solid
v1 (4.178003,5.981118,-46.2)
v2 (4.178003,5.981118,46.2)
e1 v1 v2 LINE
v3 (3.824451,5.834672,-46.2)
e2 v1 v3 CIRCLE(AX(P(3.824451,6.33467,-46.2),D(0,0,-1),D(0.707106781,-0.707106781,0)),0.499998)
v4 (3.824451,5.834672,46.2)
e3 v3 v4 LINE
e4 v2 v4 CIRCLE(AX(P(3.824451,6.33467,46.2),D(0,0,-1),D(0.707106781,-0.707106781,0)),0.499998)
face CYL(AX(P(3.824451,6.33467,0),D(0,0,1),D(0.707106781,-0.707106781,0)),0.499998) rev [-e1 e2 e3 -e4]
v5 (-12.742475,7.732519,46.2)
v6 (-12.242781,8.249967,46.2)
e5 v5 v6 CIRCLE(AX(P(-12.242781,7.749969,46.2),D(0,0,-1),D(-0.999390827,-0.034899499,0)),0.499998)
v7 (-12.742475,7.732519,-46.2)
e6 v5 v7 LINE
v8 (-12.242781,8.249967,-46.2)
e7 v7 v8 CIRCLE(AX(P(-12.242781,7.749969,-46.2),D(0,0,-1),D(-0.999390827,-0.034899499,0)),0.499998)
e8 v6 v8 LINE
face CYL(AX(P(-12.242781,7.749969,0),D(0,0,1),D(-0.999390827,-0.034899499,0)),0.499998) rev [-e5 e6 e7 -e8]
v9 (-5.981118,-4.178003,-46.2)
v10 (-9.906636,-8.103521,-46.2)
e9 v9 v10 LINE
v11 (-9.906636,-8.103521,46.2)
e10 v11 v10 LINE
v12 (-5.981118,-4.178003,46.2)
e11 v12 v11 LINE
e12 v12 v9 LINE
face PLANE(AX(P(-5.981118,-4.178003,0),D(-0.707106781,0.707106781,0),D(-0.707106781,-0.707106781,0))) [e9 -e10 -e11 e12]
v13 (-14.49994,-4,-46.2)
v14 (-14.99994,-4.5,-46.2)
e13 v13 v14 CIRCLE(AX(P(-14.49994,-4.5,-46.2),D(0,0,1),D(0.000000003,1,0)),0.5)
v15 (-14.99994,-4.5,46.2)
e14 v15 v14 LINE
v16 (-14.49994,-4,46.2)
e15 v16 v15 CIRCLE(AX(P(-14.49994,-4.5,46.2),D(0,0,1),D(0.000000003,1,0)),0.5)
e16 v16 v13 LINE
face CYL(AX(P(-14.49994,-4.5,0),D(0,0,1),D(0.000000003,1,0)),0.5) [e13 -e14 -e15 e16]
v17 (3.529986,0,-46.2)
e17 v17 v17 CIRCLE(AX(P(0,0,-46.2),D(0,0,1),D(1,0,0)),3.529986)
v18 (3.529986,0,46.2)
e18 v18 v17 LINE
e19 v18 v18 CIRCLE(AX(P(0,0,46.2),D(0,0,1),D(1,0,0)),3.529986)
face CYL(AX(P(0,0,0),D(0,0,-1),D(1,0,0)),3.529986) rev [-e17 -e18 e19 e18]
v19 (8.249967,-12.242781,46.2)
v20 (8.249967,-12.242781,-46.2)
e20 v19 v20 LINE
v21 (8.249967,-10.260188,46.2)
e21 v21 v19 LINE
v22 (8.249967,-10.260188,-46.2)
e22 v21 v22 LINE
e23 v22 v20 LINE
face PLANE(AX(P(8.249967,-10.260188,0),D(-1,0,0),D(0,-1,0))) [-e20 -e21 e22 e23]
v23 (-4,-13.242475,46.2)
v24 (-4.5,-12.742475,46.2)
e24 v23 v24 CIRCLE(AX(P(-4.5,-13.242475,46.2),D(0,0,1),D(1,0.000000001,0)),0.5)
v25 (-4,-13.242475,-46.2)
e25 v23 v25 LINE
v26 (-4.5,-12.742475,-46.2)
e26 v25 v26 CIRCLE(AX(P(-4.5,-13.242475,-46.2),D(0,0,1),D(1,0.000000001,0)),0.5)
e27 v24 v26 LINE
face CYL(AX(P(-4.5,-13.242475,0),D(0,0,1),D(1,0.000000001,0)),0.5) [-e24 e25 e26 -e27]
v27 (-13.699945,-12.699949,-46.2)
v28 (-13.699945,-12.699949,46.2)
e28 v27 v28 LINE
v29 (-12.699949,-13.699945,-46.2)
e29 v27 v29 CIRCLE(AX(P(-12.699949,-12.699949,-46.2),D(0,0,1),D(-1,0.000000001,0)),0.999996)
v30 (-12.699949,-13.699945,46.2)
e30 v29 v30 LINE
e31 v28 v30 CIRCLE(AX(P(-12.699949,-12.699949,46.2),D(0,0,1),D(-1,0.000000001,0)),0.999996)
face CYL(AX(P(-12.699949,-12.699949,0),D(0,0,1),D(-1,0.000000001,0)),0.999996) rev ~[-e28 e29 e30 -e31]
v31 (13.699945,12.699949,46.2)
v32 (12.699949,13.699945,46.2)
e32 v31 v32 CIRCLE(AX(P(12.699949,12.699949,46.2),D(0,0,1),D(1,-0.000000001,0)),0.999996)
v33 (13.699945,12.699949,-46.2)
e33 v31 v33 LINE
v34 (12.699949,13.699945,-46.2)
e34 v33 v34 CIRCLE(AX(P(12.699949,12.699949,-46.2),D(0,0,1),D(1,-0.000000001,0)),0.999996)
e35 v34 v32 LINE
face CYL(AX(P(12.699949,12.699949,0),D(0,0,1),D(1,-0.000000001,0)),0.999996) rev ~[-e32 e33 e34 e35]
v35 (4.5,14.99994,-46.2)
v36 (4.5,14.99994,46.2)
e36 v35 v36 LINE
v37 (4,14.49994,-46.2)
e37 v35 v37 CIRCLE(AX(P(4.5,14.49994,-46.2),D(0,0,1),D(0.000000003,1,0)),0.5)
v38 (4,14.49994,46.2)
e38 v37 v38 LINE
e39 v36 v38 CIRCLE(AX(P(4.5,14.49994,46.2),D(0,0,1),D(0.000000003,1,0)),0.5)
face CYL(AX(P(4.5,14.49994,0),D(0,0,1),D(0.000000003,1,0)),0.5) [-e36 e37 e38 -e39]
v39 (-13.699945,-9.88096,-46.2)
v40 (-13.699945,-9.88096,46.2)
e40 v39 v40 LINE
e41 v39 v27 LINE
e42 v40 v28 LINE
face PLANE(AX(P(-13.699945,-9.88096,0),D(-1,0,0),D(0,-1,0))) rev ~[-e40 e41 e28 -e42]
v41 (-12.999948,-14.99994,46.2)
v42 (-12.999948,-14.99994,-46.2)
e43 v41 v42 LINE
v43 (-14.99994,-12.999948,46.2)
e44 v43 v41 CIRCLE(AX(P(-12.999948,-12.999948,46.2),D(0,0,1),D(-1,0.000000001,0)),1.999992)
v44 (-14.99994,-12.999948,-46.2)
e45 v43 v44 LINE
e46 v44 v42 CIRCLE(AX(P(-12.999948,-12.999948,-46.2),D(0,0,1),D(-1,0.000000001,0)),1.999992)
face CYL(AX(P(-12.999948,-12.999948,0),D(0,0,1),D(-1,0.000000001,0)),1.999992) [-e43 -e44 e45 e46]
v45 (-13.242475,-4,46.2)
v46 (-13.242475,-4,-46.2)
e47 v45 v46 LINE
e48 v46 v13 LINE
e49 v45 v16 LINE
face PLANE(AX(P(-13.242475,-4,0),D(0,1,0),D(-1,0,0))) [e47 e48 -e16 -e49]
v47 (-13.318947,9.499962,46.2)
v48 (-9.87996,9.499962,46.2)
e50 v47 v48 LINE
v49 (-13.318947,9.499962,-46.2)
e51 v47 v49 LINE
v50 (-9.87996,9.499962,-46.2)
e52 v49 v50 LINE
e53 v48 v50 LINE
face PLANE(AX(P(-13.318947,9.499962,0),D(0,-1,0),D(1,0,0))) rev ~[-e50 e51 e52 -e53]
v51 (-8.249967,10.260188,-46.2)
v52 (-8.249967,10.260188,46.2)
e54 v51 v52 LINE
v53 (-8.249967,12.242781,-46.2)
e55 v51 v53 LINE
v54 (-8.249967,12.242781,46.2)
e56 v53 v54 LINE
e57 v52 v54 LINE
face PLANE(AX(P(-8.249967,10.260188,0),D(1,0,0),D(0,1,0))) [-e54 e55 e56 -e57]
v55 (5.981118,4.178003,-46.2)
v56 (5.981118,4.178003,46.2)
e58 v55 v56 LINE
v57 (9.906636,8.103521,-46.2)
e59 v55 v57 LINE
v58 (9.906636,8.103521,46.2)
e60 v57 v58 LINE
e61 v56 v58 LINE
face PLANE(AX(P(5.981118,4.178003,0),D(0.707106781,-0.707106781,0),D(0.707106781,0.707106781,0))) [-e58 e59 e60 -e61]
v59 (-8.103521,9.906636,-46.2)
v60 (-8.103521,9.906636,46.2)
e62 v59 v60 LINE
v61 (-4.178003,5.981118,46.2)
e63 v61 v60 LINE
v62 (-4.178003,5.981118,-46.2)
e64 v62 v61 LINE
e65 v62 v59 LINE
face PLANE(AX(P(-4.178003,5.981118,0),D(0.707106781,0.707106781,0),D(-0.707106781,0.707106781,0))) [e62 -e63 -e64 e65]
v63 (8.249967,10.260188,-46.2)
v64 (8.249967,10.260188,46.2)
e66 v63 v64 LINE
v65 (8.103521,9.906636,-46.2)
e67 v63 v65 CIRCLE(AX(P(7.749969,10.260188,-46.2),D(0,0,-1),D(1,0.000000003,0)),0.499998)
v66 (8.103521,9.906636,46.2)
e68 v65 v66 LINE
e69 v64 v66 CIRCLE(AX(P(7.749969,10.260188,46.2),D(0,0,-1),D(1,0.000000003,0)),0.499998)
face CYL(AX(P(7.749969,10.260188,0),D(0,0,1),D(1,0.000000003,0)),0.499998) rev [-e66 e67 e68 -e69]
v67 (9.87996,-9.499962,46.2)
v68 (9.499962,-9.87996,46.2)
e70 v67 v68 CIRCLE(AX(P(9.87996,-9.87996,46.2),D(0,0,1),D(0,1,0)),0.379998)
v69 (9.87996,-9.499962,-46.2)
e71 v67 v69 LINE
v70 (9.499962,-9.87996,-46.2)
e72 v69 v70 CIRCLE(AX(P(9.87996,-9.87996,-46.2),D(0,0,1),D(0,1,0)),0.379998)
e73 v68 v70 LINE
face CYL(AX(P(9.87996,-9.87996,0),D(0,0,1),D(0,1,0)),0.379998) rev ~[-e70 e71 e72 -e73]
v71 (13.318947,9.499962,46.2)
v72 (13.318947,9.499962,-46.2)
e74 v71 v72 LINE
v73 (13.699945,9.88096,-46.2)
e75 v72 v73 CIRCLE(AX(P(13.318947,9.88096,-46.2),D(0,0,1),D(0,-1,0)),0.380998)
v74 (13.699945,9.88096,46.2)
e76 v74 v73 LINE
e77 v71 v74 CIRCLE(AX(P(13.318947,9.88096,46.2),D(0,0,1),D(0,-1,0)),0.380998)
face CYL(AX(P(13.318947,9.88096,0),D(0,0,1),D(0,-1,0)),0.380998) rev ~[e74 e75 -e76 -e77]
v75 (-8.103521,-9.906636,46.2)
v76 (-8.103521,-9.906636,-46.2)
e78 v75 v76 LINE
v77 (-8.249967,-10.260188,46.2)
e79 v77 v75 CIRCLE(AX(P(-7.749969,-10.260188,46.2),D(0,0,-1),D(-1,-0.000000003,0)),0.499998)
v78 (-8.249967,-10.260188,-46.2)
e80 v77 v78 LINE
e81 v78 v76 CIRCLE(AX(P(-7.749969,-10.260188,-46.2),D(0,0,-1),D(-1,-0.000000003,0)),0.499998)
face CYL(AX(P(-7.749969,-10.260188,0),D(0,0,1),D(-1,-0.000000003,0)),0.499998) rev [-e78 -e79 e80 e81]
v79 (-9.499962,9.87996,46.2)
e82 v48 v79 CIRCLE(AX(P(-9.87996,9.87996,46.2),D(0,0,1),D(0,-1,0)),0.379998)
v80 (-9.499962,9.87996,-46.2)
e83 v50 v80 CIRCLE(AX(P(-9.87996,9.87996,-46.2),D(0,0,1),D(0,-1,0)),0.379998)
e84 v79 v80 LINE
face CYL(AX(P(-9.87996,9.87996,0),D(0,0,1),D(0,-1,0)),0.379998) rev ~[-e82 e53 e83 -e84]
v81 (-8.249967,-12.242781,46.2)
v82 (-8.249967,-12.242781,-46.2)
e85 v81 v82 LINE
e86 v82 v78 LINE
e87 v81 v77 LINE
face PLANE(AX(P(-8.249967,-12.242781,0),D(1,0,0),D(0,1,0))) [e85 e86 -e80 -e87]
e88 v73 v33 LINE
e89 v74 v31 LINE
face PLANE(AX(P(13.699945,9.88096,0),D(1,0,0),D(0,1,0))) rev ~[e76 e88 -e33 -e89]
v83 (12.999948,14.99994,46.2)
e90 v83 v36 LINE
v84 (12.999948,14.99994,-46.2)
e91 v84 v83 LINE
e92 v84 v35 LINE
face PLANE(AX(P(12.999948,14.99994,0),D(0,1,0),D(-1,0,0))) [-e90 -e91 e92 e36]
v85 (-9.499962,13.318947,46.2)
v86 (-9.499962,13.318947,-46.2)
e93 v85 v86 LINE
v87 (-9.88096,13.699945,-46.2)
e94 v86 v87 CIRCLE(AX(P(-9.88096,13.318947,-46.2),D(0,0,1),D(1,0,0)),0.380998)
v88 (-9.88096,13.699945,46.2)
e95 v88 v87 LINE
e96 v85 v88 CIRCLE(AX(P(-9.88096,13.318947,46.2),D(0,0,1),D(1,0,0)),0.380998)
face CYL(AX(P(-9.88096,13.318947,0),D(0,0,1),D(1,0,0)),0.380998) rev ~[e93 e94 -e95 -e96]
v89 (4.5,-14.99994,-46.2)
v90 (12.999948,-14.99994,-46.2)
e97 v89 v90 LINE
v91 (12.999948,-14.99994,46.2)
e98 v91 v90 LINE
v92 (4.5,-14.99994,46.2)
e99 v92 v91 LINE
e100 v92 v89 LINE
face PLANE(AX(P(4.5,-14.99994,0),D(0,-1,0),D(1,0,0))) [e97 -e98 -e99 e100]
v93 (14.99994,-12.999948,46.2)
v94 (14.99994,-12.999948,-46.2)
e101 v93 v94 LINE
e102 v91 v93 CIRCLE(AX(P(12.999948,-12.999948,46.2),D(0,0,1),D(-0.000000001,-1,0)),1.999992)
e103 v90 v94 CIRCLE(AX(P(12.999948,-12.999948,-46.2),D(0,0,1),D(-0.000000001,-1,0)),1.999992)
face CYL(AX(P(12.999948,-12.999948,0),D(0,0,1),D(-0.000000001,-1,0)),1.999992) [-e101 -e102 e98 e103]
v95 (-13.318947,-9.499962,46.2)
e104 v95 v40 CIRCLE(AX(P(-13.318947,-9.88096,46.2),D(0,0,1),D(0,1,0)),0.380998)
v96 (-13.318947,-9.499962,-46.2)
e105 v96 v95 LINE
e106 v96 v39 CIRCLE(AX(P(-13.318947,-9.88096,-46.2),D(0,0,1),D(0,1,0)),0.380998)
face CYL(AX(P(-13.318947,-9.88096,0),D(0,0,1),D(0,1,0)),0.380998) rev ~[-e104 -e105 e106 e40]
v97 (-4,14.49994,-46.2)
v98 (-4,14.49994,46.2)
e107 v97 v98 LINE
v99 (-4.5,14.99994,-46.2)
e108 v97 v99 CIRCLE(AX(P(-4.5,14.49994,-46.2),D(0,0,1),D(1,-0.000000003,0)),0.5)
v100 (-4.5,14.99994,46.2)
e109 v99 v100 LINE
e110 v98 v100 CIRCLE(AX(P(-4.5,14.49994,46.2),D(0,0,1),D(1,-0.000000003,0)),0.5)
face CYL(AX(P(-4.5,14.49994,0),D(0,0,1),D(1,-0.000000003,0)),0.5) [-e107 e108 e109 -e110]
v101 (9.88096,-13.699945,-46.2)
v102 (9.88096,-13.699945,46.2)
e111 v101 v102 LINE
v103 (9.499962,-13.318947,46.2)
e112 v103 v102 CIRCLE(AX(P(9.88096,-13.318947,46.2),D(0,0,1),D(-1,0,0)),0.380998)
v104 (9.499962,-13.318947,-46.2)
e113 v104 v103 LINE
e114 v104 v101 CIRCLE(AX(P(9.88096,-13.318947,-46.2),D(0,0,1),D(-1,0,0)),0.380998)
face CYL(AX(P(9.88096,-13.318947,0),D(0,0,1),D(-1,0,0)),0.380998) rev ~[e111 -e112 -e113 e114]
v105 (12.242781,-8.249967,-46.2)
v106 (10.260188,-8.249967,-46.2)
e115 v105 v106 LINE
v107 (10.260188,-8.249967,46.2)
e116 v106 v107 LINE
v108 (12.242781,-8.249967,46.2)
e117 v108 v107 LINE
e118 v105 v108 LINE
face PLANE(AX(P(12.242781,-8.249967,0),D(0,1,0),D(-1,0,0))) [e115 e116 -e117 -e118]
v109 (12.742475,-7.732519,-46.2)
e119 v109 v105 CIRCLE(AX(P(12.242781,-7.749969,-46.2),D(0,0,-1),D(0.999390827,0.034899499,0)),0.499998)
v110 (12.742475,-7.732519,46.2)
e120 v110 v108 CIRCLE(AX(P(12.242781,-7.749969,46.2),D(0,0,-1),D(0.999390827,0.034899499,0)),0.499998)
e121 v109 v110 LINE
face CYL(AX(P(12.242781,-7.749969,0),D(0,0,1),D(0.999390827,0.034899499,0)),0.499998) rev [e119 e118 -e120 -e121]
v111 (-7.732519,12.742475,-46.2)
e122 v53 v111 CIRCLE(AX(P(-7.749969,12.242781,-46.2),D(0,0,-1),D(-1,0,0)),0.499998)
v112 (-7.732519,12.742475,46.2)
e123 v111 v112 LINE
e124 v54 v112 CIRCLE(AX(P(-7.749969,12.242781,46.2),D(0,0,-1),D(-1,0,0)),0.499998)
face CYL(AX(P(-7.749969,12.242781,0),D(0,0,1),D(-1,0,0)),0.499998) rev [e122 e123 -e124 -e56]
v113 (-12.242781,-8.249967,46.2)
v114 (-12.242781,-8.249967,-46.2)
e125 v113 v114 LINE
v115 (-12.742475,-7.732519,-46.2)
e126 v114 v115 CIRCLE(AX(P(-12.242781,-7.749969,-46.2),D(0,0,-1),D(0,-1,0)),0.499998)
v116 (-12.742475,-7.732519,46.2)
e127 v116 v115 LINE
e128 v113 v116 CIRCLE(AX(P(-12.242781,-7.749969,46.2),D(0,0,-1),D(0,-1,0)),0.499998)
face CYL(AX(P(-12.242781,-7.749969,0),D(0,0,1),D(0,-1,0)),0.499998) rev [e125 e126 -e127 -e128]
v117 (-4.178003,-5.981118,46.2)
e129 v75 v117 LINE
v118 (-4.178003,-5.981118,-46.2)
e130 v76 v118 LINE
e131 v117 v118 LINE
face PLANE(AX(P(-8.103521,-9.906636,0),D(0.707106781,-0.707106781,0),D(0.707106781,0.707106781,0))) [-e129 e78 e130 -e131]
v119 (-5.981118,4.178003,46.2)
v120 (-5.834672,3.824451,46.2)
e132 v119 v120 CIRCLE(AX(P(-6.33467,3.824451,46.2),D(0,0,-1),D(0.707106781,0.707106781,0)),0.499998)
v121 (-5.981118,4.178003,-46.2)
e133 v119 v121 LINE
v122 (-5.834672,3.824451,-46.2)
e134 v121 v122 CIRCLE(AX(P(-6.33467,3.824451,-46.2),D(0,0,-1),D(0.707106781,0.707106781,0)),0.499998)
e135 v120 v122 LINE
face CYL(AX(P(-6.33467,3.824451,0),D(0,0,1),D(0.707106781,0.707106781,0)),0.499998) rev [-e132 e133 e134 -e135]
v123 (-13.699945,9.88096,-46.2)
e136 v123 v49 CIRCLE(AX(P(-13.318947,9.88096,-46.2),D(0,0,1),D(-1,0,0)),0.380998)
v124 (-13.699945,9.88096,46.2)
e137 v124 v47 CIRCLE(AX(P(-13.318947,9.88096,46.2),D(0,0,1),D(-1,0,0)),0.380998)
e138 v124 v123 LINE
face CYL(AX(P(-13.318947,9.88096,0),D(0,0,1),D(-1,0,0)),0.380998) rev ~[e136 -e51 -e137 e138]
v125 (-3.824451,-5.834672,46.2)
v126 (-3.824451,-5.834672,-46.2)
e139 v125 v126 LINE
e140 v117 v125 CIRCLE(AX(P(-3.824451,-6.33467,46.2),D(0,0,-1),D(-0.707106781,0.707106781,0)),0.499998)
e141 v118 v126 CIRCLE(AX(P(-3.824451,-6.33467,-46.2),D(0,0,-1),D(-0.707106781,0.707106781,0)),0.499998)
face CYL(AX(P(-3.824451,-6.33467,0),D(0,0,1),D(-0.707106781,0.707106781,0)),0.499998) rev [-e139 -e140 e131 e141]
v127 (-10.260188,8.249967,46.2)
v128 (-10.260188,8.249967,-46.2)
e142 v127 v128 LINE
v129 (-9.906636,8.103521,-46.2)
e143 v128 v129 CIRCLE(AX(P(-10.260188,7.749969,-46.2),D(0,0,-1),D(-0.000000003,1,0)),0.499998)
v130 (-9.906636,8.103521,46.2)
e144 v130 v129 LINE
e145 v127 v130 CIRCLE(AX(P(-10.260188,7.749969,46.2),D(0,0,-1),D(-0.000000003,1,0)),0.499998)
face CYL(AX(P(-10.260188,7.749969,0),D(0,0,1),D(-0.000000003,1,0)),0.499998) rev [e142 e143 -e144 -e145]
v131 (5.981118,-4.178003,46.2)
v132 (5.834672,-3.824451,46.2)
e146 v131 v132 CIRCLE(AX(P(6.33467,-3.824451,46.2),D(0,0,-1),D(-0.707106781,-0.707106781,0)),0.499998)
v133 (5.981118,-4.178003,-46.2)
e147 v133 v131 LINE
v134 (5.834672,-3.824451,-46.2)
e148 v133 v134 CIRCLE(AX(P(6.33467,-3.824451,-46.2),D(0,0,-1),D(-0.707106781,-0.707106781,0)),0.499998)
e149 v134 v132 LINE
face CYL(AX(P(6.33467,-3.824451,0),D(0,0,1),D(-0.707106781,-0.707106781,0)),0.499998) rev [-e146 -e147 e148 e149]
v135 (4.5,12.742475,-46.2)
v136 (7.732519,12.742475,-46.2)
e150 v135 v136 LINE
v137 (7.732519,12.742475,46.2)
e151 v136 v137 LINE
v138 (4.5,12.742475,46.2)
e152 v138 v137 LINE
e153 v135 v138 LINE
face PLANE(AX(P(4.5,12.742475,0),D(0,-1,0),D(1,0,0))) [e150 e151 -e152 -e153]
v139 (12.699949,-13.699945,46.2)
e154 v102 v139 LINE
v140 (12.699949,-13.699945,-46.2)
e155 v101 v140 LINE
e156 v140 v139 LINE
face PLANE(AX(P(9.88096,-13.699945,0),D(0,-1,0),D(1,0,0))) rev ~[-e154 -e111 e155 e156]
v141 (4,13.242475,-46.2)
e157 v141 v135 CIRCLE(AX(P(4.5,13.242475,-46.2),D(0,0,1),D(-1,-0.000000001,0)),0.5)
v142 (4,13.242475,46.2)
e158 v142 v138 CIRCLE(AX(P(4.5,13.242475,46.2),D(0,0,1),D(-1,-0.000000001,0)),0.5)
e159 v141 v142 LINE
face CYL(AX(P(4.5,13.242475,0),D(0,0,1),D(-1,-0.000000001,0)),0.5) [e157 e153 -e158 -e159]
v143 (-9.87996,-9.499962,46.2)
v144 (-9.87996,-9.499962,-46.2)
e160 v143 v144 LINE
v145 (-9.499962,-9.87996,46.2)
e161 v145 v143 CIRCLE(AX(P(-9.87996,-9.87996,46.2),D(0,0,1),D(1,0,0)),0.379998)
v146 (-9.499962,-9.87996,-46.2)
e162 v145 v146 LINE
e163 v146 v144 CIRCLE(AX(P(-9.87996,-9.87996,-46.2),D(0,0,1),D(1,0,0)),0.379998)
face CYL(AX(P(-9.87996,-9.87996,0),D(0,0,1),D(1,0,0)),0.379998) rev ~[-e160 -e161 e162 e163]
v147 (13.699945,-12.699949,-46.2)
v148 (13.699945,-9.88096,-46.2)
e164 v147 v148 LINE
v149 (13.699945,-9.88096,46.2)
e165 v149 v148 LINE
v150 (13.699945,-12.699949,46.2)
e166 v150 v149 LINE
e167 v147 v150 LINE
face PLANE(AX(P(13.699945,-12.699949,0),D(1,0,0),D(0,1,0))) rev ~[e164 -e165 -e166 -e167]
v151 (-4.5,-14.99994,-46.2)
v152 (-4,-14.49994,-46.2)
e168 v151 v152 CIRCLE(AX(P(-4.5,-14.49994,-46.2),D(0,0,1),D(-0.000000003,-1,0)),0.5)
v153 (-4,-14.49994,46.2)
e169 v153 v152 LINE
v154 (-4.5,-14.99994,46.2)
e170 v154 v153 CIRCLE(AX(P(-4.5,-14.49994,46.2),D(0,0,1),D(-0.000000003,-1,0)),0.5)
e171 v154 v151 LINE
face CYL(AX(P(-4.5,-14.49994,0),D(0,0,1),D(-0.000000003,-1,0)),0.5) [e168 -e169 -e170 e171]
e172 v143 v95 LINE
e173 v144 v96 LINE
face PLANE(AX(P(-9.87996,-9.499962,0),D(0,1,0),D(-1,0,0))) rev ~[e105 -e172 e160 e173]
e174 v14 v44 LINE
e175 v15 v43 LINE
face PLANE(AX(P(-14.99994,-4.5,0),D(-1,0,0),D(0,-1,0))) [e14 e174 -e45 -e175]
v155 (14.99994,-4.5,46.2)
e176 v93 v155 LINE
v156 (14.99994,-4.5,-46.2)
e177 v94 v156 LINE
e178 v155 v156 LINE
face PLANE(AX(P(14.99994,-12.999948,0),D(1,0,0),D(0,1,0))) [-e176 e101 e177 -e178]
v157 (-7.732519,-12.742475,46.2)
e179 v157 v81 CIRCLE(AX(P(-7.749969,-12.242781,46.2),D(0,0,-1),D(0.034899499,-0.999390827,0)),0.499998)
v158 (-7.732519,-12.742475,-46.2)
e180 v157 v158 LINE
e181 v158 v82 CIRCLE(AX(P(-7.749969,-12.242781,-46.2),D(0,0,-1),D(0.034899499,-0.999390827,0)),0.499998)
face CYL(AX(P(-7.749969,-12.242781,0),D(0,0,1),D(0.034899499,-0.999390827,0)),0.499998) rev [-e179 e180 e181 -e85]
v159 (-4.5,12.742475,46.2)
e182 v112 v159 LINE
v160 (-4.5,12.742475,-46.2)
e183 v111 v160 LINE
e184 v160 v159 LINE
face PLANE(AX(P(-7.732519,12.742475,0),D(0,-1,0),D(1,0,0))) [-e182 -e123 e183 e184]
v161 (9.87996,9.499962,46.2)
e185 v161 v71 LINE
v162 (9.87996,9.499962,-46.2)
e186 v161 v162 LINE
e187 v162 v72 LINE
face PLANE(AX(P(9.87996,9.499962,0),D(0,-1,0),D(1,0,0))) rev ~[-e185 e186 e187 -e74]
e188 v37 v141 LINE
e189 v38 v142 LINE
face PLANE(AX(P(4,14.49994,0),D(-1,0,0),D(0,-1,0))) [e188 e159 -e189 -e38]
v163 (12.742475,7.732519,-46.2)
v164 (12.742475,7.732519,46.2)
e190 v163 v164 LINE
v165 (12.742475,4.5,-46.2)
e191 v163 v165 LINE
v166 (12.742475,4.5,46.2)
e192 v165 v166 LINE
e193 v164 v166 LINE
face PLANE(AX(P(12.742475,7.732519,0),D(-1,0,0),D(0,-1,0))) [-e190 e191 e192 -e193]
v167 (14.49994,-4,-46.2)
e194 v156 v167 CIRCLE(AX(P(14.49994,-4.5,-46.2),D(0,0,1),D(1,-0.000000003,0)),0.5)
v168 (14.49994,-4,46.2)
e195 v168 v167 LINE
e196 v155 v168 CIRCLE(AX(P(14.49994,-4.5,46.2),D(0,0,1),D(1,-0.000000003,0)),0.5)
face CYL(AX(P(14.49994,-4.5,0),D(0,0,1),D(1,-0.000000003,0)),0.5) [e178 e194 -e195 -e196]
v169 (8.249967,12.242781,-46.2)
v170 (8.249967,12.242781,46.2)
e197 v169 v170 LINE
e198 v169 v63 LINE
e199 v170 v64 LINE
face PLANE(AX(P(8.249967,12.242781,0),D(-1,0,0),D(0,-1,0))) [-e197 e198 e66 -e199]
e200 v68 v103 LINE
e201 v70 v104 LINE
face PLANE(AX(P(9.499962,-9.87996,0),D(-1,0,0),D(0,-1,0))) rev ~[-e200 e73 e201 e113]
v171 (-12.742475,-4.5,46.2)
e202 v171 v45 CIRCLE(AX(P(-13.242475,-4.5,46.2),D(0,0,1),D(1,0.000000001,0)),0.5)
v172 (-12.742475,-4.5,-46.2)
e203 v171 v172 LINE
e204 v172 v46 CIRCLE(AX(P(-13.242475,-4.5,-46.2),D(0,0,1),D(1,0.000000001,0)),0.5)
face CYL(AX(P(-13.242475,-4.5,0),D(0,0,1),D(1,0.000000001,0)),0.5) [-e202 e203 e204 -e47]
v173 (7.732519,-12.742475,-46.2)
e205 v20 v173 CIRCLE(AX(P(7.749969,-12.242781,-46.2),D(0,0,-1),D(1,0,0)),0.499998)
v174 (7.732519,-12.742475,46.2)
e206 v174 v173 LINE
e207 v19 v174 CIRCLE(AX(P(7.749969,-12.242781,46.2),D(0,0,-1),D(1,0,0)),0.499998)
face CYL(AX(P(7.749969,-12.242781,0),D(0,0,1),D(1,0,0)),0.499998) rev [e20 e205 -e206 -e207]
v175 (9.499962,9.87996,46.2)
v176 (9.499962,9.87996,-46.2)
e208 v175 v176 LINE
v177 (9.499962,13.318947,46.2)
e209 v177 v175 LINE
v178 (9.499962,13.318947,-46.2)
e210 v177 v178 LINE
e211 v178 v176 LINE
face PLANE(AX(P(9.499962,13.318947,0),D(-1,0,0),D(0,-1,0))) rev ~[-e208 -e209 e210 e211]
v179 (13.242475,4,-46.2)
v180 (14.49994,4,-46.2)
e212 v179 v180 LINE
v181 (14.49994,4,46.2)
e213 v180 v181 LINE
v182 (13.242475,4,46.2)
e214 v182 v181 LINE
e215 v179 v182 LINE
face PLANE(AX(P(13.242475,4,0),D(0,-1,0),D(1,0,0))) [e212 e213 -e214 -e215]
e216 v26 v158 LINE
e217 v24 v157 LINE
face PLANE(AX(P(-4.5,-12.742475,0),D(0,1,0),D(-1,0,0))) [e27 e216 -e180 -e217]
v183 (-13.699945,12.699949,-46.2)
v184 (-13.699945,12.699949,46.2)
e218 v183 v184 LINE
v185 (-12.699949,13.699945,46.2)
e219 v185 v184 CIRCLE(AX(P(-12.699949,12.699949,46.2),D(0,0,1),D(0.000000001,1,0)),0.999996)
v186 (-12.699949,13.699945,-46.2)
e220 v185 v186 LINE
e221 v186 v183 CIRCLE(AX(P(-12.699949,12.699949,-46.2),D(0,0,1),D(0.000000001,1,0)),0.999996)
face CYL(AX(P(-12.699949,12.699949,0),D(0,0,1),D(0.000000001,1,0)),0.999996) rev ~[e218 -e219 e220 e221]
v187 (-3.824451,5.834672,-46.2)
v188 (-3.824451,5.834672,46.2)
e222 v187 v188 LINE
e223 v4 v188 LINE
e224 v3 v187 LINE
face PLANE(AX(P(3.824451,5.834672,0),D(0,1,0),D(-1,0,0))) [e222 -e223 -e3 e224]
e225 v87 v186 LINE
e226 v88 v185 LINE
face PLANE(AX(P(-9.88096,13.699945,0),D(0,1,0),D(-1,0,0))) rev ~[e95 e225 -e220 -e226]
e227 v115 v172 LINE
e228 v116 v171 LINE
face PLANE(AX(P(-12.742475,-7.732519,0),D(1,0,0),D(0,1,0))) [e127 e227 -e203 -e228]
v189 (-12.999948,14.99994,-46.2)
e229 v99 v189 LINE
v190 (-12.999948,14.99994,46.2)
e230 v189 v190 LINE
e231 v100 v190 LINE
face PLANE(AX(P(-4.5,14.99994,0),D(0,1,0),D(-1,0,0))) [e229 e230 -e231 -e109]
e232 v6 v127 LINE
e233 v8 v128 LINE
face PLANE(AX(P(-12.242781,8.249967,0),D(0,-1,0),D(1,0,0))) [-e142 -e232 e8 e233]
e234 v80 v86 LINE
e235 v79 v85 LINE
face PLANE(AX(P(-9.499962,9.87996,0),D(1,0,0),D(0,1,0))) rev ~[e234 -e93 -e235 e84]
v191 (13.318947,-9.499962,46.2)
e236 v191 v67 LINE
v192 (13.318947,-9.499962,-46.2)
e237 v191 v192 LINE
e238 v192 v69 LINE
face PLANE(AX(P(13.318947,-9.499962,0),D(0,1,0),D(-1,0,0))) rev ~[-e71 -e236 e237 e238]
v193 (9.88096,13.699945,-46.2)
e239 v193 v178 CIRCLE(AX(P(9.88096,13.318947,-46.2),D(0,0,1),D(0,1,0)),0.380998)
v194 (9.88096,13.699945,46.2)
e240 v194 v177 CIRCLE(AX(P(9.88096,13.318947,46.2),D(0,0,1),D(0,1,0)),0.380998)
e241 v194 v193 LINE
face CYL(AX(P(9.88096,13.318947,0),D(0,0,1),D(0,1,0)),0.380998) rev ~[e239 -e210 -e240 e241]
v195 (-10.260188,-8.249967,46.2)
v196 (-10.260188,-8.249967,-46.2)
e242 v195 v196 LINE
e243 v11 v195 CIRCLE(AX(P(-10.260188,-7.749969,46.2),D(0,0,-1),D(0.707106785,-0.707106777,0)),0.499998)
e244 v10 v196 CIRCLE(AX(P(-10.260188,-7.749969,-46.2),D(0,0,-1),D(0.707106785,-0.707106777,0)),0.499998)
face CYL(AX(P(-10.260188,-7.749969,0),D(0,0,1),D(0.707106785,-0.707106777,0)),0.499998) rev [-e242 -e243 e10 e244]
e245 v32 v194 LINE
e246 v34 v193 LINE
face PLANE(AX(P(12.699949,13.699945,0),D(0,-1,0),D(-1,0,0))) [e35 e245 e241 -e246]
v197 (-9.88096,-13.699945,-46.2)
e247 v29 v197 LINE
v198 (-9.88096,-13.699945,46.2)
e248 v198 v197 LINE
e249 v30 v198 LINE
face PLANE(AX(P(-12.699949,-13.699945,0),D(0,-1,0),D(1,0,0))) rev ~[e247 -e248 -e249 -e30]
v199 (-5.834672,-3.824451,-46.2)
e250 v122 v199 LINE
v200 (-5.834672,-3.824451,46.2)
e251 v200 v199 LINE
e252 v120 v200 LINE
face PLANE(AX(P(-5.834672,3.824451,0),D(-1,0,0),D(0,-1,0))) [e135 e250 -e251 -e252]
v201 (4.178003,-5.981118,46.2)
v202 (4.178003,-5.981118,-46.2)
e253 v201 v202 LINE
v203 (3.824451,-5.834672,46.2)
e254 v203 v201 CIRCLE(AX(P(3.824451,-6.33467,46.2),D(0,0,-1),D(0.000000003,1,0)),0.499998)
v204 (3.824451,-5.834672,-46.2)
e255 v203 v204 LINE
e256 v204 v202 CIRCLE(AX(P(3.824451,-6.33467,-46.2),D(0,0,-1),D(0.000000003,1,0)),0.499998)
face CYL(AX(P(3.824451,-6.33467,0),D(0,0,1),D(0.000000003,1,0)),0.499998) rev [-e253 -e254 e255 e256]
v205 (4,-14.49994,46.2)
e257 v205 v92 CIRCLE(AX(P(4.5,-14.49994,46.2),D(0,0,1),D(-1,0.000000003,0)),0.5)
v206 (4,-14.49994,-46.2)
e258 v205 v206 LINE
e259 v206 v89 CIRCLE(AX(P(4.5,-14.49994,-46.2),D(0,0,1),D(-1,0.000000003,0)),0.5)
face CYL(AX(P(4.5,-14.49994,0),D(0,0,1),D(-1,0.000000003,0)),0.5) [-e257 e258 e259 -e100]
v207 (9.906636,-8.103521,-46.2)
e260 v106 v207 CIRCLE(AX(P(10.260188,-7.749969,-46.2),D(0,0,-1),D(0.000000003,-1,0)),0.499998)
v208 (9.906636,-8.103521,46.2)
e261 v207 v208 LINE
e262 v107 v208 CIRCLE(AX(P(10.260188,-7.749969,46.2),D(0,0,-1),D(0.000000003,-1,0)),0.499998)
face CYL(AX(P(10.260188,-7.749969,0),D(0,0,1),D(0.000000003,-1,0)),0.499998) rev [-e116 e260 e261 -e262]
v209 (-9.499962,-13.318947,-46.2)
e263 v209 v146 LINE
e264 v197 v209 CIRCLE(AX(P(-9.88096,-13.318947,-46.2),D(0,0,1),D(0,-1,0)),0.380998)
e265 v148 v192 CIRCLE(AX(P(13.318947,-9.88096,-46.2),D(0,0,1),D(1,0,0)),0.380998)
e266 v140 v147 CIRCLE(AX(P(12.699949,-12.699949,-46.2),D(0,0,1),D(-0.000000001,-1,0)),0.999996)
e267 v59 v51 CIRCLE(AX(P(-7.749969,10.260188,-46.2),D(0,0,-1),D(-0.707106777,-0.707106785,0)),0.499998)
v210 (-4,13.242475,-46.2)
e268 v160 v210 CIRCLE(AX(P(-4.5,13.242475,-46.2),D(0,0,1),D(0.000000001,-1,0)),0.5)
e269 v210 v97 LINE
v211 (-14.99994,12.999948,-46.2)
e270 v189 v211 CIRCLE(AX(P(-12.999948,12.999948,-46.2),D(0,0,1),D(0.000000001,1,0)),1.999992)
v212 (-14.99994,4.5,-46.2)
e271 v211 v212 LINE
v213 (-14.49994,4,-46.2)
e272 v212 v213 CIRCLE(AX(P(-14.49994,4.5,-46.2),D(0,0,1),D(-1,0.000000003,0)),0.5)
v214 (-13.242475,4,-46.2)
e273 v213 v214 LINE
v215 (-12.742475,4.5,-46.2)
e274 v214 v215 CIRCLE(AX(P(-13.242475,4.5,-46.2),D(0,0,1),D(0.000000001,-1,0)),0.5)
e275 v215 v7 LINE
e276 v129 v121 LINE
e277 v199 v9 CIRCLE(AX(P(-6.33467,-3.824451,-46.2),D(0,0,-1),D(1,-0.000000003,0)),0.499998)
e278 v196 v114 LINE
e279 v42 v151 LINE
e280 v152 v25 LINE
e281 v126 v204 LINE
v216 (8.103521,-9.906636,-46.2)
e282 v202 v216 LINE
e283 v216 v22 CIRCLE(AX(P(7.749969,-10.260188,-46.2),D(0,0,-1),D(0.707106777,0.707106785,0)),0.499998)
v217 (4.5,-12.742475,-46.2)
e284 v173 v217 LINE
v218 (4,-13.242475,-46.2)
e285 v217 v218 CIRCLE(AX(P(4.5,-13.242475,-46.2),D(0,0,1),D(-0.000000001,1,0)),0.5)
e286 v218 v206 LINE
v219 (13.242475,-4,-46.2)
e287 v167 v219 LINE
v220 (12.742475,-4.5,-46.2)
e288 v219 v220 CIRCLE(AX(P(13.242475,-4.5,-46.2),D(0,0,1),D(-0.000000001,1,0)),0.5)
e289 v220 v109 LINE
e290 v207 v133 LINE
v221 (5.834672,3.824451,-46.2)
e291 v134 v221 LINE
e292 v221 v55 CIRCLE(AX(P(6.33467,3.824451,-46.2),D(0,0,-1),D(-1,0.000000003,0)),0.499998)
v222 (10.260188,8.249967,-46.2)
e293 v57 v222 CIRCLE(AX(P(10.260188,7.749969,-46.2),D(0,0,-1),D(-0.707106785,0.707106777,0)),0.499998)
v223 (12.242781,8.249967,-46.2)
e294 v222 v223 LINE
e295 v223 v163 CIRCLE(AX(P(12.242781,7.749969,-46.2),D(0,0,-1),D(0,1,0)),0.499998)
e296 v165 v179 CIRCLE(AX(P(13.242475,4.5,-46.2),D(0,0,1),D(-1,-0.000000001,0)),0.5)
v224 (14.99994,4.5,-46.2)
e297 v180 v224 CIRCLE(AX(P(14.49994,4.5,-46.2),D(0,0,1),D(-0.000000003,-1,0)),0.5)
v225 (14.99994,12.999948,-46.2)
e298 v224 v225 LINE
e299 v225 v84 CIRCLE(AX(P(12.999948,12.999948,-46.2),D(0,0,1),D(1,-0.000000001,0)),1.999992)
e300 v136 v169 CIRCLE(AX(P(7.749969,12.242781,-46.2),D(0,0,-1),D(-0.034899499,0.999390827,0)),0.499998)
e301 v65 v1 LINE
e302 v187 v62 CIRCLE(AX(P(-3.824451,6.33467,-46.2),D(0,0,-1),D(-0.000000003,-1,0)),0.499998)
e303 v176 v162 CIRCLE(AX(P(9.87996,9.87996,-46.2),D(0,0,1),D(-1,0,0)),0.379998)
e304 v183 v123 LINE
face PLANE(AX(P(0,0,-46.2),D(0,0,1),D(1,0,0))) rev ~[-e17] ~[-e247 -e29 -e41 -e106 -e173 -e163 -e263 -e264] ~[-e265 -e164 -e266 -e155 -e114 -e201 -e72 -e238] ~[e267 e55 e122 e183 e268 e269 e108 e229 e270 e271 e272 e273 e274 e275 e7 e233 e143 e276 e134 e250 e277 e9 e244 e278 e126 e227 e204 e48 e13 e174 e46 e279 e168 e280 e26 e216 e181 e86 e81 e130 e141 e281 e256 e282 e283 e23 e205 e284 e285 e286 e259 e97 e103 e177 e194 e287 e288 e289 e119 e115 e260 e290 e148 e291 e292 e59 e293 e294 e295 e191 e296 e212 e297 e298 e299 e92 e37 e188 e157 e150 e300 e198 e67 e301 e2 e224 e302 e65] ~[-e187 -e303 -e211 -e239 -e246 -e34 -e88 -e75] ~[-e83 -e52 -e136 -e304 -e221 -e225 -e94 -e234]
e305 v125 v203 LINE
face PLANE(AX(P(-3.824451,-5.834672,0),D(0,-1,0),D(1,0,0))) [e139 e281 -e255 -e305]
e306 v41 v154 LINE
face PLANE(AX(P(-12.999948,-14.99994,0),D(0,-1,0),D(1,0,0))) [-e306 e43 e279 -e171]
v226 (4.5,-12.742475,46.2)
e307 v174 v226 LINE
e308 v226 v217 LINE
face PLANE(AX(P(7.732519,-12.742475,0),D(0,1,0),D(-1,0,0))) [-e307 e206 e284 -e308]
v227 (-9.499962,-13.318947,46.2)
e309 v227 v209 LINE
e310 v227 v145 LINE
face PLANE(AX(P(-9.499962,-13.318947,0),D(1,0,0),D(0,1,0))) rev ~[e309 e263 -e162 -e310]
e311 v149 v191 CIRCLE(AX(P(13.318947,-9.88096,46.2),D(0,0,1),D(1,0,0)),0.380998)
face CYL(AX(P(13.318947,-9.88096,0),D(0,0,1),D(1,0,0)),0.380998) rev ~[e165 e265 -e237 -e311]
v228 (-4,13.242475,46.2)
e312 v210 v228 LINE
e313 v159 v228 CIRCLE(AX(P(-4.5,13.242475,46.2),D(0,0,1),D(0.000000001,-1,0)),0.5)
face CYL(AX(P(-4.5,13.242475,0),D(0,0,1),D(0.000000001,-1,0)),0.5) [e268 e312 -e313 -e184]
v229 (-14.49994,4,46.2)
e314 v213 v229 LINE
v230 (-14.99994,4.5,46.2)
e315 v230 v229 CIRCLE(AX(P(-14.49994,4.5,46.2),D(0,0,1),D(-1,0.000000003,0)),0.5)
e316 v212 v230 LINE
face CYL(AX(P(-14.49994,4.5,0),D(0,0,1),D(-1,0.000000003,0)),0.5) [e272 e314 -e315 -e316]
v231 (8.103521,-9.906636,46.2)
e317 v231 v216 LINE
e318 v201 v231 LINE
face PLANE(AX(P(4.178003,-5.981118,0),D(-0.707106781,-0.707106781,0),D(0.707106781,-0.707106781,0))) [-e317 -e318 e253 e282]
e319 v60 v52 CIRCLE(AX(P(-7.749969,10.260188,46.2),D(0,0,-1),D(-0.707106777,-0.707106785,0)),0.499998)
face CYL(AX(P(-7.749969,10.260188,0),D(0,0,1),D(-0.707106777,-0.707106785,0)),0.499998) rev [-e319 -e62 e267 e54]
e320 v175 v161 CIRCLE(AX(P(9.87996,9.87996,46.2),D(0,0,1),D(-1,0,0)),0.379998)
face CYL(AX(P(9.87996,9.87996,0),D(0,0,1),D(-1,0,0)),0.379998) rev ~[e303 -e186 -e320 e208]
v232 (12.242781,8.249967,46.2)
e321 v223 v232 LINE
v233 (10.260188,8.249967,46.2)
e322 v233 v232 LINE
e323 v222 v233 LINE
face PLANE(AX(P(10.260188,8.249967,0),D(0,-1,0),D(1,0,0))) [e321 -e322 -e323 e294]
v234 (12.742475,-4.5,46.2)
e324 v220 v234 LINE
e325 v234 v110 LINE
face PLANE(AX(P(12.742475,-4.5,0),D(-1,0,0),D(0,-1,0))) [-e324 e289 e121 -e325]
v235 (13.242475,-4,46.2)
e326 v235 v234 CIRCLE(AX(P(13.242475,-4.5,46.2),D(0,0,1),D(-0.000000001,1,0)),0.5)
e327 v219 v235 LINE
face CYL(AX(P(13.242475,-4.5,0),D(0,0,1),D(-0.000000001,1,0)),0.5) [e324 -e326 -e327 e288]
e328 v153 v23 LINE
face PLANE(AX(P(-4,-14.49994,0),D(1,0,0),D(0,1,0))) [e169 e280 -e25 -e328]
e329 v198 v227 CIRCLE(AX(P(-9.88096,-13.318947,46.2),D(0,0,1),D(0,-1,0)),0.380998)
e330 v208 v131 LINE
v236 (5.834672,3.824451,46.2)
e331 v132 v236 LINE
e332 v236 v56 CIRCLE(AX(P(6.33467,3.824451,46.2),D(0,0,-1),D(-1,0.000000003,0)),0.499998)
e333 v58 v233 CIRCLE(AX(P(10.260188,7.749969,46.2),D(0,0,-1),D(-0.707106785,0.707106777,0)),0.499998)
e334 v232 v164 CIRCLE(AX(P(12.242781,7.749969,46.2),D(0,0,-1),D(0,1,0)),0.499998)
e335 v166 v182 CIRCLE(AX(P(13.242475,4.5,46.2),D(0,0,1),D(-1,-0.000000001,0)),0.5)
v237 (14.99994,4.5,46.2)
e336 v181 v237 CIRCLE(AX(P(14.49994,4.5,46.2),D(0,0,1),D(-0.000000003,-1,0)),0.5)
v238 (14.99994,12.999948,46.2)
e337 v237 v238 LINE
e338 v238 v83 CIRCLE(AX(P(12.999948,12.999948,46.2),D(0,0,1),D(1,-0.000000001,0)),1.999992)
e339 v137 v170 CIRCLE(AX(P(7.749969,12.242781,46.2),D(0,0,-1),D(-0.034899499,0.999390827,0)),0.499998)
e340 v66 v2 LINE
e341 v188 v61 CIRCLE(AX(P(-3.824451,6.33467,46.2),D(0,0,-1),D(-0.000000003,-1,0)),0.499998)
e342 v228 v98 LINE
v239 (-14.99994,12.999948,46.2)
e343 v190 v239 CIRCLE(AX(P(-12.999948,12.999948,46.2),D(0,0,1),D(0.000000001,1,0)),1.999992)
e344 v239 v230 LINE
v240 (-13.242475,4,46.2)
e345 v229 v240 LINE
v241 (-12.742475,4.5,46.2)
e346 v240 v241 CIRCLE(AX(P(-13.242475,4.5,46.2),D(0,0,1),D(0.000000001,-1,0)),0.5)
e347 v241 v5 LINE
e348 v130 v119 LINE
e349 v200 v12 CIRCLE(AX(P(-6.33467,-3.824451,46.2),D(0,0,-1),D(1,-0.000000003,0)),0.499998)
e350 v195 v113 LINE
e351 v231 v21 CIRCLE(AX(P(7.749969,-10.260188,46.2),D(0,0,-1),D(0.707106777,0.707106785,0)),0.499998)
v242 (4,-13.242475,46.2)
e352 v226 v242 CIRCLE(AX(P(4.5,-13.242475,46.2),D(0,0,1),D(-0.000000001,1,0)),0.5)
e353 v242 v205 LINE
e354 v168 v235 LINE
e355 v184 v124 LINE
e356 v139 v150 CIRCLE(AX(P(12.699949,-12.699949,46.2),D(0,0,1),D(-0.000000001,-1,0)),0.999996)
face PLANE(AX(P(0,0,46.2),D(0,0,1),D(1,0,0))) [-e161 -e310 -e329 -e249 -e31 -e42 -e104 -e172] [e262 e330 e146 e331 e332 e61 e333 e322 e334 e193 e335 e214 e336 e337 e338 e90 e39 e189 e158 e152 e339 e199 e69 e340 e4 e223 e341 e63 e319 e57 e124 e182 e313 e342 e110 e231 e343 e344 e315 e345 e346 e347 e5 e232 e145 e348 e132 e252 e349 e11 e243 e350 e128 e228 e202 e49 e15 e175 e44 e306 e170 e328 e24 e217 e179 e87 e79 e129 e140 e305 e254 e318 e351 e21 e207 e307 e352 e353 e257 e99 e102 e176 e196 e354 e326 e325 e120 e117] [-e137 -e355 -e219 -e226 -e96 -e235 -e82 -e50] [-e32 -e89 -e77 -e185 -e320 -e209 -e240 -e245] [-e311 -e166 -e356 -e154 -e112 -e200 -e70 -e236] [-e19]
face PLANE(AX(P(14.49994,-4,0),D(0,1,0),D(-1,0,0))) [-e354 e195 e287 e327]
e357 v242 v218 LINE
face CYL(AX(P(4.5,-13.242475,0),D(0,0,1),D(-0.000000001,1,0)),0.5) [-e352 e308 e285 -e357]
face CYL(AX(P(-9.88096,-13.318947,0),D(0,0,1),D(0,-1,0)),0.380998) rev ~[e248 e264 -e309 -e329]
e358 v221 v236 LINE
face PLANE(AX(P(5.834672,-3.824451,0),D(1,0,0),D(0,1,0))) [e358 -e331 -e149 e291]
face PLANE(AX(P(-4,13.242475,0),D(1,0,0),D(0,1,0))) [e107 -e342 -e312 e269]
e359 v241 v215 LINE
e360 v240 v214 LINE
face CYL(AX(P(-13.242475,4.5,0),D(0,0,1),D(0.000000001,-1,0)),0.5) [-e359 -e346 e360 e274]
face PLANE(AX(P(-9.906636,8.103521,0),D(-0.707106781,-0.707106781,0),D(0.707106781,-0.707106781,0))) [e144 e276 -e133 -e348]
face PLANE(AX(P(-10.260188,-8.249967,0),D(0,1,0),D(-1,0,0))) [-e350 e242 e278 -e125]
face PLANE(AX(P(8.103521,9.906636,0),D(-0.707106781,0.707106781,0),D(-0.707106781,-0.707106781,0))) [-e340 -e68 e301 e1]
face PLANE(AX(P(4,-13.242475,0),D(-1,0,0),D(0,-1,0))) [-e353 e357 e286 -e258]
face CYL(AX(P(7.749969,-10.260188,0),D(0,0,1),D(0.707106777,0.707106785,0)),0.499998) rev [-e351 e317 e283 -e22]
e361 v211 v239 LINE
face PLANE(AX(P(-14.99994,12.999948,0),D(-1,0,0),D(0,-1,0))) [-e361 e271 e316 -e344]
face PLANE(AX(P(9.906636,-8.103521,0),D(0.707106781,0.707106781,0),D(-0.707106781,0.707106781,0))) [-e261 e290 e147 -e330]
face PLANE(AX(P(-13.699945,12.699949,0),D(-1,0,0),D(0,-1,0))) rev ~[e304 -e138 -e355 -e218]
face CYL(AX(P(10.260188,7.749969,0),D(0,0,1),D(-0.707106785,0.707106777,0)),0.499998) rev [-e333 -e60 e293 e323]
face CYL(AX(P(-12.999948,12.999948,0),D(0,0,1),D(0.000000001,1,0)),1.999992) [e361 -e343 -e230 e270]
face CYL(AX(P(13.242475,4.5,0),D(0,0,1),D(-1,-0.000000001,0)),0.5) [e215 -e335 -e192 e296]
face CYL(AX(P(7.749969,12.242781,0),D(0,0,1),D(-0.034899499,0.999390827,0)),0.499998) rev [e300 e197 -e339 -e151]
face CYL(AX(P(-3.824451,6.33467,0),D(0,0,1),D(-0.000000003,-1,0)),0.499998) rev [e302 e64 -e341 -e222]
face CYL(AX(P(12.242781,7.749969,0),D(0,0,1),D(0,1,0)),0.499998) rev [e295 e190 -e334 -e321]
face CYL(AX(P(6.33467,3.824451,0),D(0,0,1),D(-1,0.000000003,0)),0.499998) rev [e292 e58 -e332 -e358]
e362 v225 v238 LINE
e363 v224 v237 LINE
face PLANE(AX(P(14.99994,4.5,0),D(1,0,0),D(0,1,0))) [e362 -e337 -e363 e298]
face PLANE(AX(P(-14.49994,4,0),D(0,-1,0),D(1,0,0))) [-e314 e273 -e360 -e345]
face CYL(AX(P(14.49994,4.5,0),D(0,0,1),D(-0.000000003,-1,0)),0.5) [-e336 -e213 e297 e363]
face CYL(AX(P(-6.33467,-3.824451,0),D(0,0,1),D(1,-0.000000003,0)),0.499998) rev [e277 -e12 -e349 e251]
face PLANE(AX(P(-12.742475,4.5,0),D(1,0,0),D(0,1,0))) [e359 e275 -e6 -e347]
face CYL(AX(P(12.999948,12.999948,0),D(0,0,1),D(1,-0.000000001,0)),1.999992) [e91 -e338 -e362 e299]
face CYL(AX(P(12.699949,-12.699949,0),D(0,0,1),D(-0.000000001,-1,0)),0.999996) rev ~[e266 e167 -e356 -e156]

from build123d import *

# Parameters (mm, degrees)
SKETCH1_R           = 3.52998588
BOSS_EXTRUDE1_DEPTH = 46.2


with BuildPart() as part:
    # Sketch1 → Boss-Extrude1 (new, symmetric)
    with BuildSketch(Plane.XY):
        with BuildLine():
            Line((14.49994, -4), (13.24247465, -4))
            ThreePointArc((13.24247465, -4), (12.88892126, -4.146446609), (12.74247465, -4.5))
            Line((12.74247465, -4.5), (12.74247465, -7.732519321))
            ThreePointArc((12.74247465, -7.732519321), (12.602449697, -8.097296796), (12.242781236, -8.249967))
            Line((12.242781236, -8.249967), (10.260188032, -8.249967))
            ThreePointArc((10.260188032, -8.249967), (10.068847082, -8.211906919), (9.906636056, -8.103520976))
            Line((9.906636056, -8.103520976), (5.981117769, -4.178002689))
            ThreePointArc((5.981117769, -4.178002689), (5.872731827, -4.015791664), (5.834671745, -3.824450713))
            Line((5.834671745, -3.824450713), (5.834671745, -1.01249595))
            Line((5.834671745, -1.01249595), (5.834671745, 0.88749645))
            Line((5.834671745, 0.88749645), (5.834671745, 3.824450713))
            ThreePointArc((5.834671745, 3.824450713), (5.872731827, 4.015791664), (5.981117769, 4.178002689))
            Line((5.981117769, 4.178002689), (9.906636056, 8.103520976))
            ThreePointArc((9.906636056, 8.103520976), (10.068847082, 8.211906919), (10.260188032, 8.249967))
            Line((10.260188032, 8.249967), (12.242781236, 8.249967))
            ThreePointArc((12.242781236, 8.249967), (12.602449697, 8.097296796), (12.74247465, 7.732519321))
            Line((12.74247465, 7.732519321), (12.74247465, 4.5))
            ThreePointArc((12.74247465, 4.5), (12.88892126, 4.146446609), (13.24247465, 4))
            Line((13.24247465, 4), (14.49994, 4))
            ThreePointArc((14.49994, 4), (14.853493391, 4.146446609), (14.99994, 4.5))
            Line((14.99994, 4.5), (14.99994, 12.999948))
            ThreePointArc((14.99994, 12.999948), (14.414155906, 14.414155906), (12.999948, 14.99994))
            Line((12.999948, 14.99994), (4.5, 14.99994))
            ThreePointArc((4.5, 14.99994), (4.146446609, 14.853493391), (4, 14.49994))
            Line((4, 14.49994), (4, 13.24247465))
            ThreePointArc((4, 13.24247465), (4.146446609, 12.88892126), (4.5, 12.74247465))
            Line((4.5, 12.74247465), (7.732519321, 12.74247465))
            ThreePointArc((7.732519321, 12.74247465), (8.097296796, 12.602449697), (8.249967, 12.242781236))
            Line((8.249967, 12.242781236), (8.249967, 10.260188032))
            ThreePointArc((8.249967, 10.260188032), (8.211906919, 10.068847082), (8.103520976, 9.906636056))
            Line((8.103520976, 9.906636056), (4.178002689, 5.981117769))
            ThreePointArc((4.178002689, 5.981117769), (4.015791664, 5.872731827), (3.824450713, 5.834671745))
            Line((3.824450713, 5.834671745), (0.9499962, 5.834671745))
            Line((0.9499962, 5.834671745), (-0.9499962, 5.834671745))
            Line((-0.9499962, 5.834671745), (-3.824450713, 5.834671745))
            ThreePointArc((-3.824450713, 5.834671745), (-4.015791664, 5.872731827), (-4.178002689, 5.981117769))
            Line((-4.178002689, 5.981117769), (-8.103520976, 9.906636056))
            ThreePointArc((-8.103520976, 9.906636056), (-8.211906919, 10.068847082), (-8.249967, 10.260188032))
            Line((-8.249967, 10.260188032), (-8.249967, 12.242781236))
            ThreePointArc((-8.249967, 12.242781236), (-8.097296796, 12.602449697), (-7.732519321, 12.74247465))
            Line((-7.732519321, 12.74247465), (-4.5, 12.74247465))
            ThreePointArc((-4.5, 12.74247465), (-4.146446609, 12.88892126), (-4, 13.24247465))
            Line((-4, 13.24247465), (-4, 14.49994))
            ThreePointArc((-4, 14.49994), (-4.146446609, 14.853493391), (-4.5, 14.99994))
            Line((-4.5, 14.99994), (-12.999948, 14.99994))
            ThreePointArc((-12.999948, 14.99994), (-14.414155906, 14.414155906), (-14.99994, 12.999948))
            Line((-14.99994, 12.999948), (-14.99994, 4.5))
            ThreePointArc((-14.99994, 4.5), (-14.853493391, 4.146446609), (-14.49994, 4))
            Line((-14.49994, 4), (-13.24247465, 4))
            ThreePointArc((-13.24247465, 4), (-12.88892126, 4.146446609), (-12.74247465, 4.5))
            Line((-12.74247465, 4.5), (-12.74247465, 7.732519321))
            ThreePointArc((-12.74247465, 7.732519321), (-12.602449697, 8.097296796), (-12.242781236, 8.249967))
            Line((-12.242781236, 8.249967), (-10.260188032, 8.249967))
            ThreePointArc((-10.260188032, 8.249967), (-10.068847082, 8.211906919), (-9.906636056, 8.103520976))
            Line((-9.906636056, 8.103520976), (-5.981117769, 4.178002689))
            ThreePointArc((-5.981117769, 4.178002689), (-5.872731827, 4.015791664), (-5.834671745, 3.824450713))
            Line((-5.834671745, 3.824450713), (-5.834671745, 0.88749645))
            Line((-5.834671745, 0.88749645), (-5.834671745, -1.01249595))
            Line((-5.834671745, -1.01249595), (-5.834671745, -3.824450713))
            ThreePointArc((-5.834671745, -3.824450713), (-5.872731827, -4.015791664), (-5.981117769, -4.178002689))
            Line((-5.981117769, -4.178002689), (-9.906636056, -8.103520976))
            ThreePointArc((-9.906636056, -8.103520976), (-10.068847082, -8.211906919), (-10.260188032, -8.249967))
            Line((-10.260188032, -8.249967), (-12.242781236, -8.249967))
            ThreePointArc((-12.242781236, -8.249967), (-12.602449697, -8.097296796), (-12.74247465, -7.732519321))
            Line((-12.74247465, -7.732519321), (-12.74247465, -4.5))
            ThreePointArc((-12.74247465, -4.5), (-12.88892126, -4.146446609), (-13.24247465, -4))
            Line((-13.24247465, -4), (-14.49994, -4))
            ThreePointArc((-14.49994, -4), (-14.853493391, -4.146446609), (-14.99994, -4.5))
            Line((-14.99994, -4.5), (-14.99994, -12.999948))
            ThreePointArc((-14.99994, -12.999948), (-14.414155906, -14.414155906), (-12.999948, -14.99994))
            Line((-12.999948, -14.99994), (-4.5, -14.99994))
            ThreePointArc((-4.5, -14.99994), (-4.146446609, -14.853493391), (-4, -14.49994))
            Line((-4, -14.49994), (-4, -13.24247465))
            ThreePointArc((-4, -13.24247465), (-4.146446609, -12.88892126), (-4.5, -12.74247465))
            Line((-4.5, -12.74247465), (-7.732519321, -12.74247465))
            ThreePointArc((-7.732519321, -12.74247465), (-8.097296796, -12.602449697), (-8.249967, -12.242781236))
            Line((-8.249967, -12.242781236), (-8.249967, -10.260188032))
            ThreePointArc((-8.249967, -10.260188032), (-8.211906919, -10.068847082), (-8.103520976, -9.906636056))
            Line((-8.103520976, -9.906636056), (-4.178002689, -5.981117769))
            ThreePointArc((-4.178002689, -5.981117769), (-4.015791664, -5.872731827), (-3.824450713, -5.834671745))
            Line((-3.824450713, -5.834671745), (-0.9499962, -5.834671745))
            Line((-0.9499962, -5.834671745), (0.9499962, -5.834671745))
            Line((0.9499962, -5.834671745), (3.824450713, -5.834671745))
            ThreePointArc((3.824450713, -5.834671745), (4.015791664, -5.872731827), (4.178002689, -5.981117769))
            Line((4.178002689, -5.981117769), (8.103520976, -9.906636056))
            ThreePointArc((8.103520976, -9.906636056), (8.211906919, -10.068847082), (8.249967, -10.260188032))
            Line((8.249967, -10.260188032), (8.249967, -12.242781236))
            ThreePointArc((8.249967, -12.242781236), (8.097296796, -12.602449697), (7.732519321, -12.74247465))
            Line((7.732519321, -12.74247465), (4.5, -12.74247465))
            ThreePointArc((4.5, -12.74247465), (4.146446609, -12.88892126), (4, -13.24247465))
            Line((4, -13.24247465), (4, -14.49994))
            ThreePointArc((4, -14.49994), (4.146446609, -14.853493391), (4.5, -14.99994))
            Line((4.5, -14.99994), (12.999948, -14.99994))
            ThreePointArc((12.999948, -14.99994), (14.414155906, -14.414155906), (14.99994, -12.999948))
            Line((14.99994, -12.999948), (14.99994, -4.5))
            ThreePointArc((14.99994, -4.5), (14.853493391, -4.146446609), (14.49994, -4))
        make_face()
        Circle(SKETCH1_R, mode=Mode.SUBTRACT)
        with BuildLine():
            Line((-12.6999492, -13.6999452), (-9.880960476, -13.6999452))
            ThreePointArc((-9.880960476, -13.6999452), (-9.61155387, -13.58835333), (-9.499962, -13.318946724))
            Line((-9.499962, -13.318946724), (-9.499962, -9.87996048))
            ThreePointArc((-9.499962, -9.87996048), (-9.611260978, -9.611260978), (-9.87996048, -9.499962))
            Line((-9.87996048, -9.499962), (-13.318946724, -9.499962))
            ThreePointArc((-13.318946724, -9.499962), (-13.58835333, -9.61155387), (-13.6999452, -9.880960476))
            Line((-13.6999452, -9.880960476), (-13.6999452, -12.6999492))
            ThreePointArc((-13.6999452, -12.6999492), (-13.407053153, -13.407053153), (-12.6999492, -13.6999452))
        make_face(mode=Mode.SUBTRACT)
        with BuildLine():
            Line((13.6999452, -12.6999492), (13.6999452, -9.880960476))
            ThreePointArc((13.6999452, -9.880960476), (13.58835333, -9.61155387), (13.318946724, -9.499962))
            Line((13.318946724, -9.499962), (9.87996048, -9.499962))
            ThreePointArc((9.87996048, -9.499962), (9.611260978, -9.611260978), (9.499962, -9.87996048))
            Line((9.499962, -9.87996048), (9.499962, -13.318946724))
            ThreePointArc((9.499962, -13.318946724), (9.61155387, -13.58835333), (9.880960476, -13.6999452))
            Line((9.880960476, -13.6999452), (12.6999492, -13.6999452))
            ThreePointArc((12.6999492, -13.6999452), (13.407053153, -13.407053153), (13.6999452, -12.6999492))
        make_face(mode=Mode.SUBTRACT)
        with BuildLine():
            Line((9.87996048, 9.499962), (13.318946724, 9.499962))
            ThreePointArc((13.318946724, 9.499962), (13.58835333, 9.61155387), (13.6999452, 9.880960476))
            Line((13.6999452, 9.880960476), (13.6999452, 12.6999492))
            ThreePointArc((13.6999452, 12.6999492), (13.407053153, 13.407053153), (12.6999492, 13.6999452))
            Line((12.6999492, 13.6999452), (9.880960476, 13.6999452))
            ThreePointArc((9.880960476, 13.6999452), (9.61155387, 13.58835333), (9.499962, 13.318946724))
            Line((9.499962, 13.318946724), (9.499962, 9.87996048))
            ThreePointArc((9.499962, 9.87996048), (9.611260978, 9.611260978), (9.87996048, 9.499962))
        make_face(mode=Mode.SUBTRACT)
        with BuildLine():
            Line((-13.6999452, 12.6999492), (-13.6999452, 9.880960476))
            ThreePointArc((-13.6999452, 9.880960476), (-13.58835333, 9.61155387), (-13.318946724, 9.499962))
            Line((-13.318946724, 9.499962), (-9.87996048, 9.499962))
            ThreePointArc((-9.87996048, 9.499962), (-9.611260978, 9.611260978), (-9.499962, 9.87996048))
            Line((-9.499962, 9.87996048), (-9.499962, 13.318946724))
            ThreePointArc((-9.499962, 13.318946724), (-9.61155387, 13.58835333), (-9.880960476, 13.6999452))
            Line((-9.880960476, 13.6999452), (-12.6999492, 13.6999452))
            ThreePointArc((-12.6999492, 13.6999452), (-13.407053153, 13.407053153), (-13.6999452, 12.6999492))
        make_face(mode=Mode.SUBTRACT)
    extrude(amount=BOSS_EXTRUDE1_DEPTH, both=True)


solid = part.part
